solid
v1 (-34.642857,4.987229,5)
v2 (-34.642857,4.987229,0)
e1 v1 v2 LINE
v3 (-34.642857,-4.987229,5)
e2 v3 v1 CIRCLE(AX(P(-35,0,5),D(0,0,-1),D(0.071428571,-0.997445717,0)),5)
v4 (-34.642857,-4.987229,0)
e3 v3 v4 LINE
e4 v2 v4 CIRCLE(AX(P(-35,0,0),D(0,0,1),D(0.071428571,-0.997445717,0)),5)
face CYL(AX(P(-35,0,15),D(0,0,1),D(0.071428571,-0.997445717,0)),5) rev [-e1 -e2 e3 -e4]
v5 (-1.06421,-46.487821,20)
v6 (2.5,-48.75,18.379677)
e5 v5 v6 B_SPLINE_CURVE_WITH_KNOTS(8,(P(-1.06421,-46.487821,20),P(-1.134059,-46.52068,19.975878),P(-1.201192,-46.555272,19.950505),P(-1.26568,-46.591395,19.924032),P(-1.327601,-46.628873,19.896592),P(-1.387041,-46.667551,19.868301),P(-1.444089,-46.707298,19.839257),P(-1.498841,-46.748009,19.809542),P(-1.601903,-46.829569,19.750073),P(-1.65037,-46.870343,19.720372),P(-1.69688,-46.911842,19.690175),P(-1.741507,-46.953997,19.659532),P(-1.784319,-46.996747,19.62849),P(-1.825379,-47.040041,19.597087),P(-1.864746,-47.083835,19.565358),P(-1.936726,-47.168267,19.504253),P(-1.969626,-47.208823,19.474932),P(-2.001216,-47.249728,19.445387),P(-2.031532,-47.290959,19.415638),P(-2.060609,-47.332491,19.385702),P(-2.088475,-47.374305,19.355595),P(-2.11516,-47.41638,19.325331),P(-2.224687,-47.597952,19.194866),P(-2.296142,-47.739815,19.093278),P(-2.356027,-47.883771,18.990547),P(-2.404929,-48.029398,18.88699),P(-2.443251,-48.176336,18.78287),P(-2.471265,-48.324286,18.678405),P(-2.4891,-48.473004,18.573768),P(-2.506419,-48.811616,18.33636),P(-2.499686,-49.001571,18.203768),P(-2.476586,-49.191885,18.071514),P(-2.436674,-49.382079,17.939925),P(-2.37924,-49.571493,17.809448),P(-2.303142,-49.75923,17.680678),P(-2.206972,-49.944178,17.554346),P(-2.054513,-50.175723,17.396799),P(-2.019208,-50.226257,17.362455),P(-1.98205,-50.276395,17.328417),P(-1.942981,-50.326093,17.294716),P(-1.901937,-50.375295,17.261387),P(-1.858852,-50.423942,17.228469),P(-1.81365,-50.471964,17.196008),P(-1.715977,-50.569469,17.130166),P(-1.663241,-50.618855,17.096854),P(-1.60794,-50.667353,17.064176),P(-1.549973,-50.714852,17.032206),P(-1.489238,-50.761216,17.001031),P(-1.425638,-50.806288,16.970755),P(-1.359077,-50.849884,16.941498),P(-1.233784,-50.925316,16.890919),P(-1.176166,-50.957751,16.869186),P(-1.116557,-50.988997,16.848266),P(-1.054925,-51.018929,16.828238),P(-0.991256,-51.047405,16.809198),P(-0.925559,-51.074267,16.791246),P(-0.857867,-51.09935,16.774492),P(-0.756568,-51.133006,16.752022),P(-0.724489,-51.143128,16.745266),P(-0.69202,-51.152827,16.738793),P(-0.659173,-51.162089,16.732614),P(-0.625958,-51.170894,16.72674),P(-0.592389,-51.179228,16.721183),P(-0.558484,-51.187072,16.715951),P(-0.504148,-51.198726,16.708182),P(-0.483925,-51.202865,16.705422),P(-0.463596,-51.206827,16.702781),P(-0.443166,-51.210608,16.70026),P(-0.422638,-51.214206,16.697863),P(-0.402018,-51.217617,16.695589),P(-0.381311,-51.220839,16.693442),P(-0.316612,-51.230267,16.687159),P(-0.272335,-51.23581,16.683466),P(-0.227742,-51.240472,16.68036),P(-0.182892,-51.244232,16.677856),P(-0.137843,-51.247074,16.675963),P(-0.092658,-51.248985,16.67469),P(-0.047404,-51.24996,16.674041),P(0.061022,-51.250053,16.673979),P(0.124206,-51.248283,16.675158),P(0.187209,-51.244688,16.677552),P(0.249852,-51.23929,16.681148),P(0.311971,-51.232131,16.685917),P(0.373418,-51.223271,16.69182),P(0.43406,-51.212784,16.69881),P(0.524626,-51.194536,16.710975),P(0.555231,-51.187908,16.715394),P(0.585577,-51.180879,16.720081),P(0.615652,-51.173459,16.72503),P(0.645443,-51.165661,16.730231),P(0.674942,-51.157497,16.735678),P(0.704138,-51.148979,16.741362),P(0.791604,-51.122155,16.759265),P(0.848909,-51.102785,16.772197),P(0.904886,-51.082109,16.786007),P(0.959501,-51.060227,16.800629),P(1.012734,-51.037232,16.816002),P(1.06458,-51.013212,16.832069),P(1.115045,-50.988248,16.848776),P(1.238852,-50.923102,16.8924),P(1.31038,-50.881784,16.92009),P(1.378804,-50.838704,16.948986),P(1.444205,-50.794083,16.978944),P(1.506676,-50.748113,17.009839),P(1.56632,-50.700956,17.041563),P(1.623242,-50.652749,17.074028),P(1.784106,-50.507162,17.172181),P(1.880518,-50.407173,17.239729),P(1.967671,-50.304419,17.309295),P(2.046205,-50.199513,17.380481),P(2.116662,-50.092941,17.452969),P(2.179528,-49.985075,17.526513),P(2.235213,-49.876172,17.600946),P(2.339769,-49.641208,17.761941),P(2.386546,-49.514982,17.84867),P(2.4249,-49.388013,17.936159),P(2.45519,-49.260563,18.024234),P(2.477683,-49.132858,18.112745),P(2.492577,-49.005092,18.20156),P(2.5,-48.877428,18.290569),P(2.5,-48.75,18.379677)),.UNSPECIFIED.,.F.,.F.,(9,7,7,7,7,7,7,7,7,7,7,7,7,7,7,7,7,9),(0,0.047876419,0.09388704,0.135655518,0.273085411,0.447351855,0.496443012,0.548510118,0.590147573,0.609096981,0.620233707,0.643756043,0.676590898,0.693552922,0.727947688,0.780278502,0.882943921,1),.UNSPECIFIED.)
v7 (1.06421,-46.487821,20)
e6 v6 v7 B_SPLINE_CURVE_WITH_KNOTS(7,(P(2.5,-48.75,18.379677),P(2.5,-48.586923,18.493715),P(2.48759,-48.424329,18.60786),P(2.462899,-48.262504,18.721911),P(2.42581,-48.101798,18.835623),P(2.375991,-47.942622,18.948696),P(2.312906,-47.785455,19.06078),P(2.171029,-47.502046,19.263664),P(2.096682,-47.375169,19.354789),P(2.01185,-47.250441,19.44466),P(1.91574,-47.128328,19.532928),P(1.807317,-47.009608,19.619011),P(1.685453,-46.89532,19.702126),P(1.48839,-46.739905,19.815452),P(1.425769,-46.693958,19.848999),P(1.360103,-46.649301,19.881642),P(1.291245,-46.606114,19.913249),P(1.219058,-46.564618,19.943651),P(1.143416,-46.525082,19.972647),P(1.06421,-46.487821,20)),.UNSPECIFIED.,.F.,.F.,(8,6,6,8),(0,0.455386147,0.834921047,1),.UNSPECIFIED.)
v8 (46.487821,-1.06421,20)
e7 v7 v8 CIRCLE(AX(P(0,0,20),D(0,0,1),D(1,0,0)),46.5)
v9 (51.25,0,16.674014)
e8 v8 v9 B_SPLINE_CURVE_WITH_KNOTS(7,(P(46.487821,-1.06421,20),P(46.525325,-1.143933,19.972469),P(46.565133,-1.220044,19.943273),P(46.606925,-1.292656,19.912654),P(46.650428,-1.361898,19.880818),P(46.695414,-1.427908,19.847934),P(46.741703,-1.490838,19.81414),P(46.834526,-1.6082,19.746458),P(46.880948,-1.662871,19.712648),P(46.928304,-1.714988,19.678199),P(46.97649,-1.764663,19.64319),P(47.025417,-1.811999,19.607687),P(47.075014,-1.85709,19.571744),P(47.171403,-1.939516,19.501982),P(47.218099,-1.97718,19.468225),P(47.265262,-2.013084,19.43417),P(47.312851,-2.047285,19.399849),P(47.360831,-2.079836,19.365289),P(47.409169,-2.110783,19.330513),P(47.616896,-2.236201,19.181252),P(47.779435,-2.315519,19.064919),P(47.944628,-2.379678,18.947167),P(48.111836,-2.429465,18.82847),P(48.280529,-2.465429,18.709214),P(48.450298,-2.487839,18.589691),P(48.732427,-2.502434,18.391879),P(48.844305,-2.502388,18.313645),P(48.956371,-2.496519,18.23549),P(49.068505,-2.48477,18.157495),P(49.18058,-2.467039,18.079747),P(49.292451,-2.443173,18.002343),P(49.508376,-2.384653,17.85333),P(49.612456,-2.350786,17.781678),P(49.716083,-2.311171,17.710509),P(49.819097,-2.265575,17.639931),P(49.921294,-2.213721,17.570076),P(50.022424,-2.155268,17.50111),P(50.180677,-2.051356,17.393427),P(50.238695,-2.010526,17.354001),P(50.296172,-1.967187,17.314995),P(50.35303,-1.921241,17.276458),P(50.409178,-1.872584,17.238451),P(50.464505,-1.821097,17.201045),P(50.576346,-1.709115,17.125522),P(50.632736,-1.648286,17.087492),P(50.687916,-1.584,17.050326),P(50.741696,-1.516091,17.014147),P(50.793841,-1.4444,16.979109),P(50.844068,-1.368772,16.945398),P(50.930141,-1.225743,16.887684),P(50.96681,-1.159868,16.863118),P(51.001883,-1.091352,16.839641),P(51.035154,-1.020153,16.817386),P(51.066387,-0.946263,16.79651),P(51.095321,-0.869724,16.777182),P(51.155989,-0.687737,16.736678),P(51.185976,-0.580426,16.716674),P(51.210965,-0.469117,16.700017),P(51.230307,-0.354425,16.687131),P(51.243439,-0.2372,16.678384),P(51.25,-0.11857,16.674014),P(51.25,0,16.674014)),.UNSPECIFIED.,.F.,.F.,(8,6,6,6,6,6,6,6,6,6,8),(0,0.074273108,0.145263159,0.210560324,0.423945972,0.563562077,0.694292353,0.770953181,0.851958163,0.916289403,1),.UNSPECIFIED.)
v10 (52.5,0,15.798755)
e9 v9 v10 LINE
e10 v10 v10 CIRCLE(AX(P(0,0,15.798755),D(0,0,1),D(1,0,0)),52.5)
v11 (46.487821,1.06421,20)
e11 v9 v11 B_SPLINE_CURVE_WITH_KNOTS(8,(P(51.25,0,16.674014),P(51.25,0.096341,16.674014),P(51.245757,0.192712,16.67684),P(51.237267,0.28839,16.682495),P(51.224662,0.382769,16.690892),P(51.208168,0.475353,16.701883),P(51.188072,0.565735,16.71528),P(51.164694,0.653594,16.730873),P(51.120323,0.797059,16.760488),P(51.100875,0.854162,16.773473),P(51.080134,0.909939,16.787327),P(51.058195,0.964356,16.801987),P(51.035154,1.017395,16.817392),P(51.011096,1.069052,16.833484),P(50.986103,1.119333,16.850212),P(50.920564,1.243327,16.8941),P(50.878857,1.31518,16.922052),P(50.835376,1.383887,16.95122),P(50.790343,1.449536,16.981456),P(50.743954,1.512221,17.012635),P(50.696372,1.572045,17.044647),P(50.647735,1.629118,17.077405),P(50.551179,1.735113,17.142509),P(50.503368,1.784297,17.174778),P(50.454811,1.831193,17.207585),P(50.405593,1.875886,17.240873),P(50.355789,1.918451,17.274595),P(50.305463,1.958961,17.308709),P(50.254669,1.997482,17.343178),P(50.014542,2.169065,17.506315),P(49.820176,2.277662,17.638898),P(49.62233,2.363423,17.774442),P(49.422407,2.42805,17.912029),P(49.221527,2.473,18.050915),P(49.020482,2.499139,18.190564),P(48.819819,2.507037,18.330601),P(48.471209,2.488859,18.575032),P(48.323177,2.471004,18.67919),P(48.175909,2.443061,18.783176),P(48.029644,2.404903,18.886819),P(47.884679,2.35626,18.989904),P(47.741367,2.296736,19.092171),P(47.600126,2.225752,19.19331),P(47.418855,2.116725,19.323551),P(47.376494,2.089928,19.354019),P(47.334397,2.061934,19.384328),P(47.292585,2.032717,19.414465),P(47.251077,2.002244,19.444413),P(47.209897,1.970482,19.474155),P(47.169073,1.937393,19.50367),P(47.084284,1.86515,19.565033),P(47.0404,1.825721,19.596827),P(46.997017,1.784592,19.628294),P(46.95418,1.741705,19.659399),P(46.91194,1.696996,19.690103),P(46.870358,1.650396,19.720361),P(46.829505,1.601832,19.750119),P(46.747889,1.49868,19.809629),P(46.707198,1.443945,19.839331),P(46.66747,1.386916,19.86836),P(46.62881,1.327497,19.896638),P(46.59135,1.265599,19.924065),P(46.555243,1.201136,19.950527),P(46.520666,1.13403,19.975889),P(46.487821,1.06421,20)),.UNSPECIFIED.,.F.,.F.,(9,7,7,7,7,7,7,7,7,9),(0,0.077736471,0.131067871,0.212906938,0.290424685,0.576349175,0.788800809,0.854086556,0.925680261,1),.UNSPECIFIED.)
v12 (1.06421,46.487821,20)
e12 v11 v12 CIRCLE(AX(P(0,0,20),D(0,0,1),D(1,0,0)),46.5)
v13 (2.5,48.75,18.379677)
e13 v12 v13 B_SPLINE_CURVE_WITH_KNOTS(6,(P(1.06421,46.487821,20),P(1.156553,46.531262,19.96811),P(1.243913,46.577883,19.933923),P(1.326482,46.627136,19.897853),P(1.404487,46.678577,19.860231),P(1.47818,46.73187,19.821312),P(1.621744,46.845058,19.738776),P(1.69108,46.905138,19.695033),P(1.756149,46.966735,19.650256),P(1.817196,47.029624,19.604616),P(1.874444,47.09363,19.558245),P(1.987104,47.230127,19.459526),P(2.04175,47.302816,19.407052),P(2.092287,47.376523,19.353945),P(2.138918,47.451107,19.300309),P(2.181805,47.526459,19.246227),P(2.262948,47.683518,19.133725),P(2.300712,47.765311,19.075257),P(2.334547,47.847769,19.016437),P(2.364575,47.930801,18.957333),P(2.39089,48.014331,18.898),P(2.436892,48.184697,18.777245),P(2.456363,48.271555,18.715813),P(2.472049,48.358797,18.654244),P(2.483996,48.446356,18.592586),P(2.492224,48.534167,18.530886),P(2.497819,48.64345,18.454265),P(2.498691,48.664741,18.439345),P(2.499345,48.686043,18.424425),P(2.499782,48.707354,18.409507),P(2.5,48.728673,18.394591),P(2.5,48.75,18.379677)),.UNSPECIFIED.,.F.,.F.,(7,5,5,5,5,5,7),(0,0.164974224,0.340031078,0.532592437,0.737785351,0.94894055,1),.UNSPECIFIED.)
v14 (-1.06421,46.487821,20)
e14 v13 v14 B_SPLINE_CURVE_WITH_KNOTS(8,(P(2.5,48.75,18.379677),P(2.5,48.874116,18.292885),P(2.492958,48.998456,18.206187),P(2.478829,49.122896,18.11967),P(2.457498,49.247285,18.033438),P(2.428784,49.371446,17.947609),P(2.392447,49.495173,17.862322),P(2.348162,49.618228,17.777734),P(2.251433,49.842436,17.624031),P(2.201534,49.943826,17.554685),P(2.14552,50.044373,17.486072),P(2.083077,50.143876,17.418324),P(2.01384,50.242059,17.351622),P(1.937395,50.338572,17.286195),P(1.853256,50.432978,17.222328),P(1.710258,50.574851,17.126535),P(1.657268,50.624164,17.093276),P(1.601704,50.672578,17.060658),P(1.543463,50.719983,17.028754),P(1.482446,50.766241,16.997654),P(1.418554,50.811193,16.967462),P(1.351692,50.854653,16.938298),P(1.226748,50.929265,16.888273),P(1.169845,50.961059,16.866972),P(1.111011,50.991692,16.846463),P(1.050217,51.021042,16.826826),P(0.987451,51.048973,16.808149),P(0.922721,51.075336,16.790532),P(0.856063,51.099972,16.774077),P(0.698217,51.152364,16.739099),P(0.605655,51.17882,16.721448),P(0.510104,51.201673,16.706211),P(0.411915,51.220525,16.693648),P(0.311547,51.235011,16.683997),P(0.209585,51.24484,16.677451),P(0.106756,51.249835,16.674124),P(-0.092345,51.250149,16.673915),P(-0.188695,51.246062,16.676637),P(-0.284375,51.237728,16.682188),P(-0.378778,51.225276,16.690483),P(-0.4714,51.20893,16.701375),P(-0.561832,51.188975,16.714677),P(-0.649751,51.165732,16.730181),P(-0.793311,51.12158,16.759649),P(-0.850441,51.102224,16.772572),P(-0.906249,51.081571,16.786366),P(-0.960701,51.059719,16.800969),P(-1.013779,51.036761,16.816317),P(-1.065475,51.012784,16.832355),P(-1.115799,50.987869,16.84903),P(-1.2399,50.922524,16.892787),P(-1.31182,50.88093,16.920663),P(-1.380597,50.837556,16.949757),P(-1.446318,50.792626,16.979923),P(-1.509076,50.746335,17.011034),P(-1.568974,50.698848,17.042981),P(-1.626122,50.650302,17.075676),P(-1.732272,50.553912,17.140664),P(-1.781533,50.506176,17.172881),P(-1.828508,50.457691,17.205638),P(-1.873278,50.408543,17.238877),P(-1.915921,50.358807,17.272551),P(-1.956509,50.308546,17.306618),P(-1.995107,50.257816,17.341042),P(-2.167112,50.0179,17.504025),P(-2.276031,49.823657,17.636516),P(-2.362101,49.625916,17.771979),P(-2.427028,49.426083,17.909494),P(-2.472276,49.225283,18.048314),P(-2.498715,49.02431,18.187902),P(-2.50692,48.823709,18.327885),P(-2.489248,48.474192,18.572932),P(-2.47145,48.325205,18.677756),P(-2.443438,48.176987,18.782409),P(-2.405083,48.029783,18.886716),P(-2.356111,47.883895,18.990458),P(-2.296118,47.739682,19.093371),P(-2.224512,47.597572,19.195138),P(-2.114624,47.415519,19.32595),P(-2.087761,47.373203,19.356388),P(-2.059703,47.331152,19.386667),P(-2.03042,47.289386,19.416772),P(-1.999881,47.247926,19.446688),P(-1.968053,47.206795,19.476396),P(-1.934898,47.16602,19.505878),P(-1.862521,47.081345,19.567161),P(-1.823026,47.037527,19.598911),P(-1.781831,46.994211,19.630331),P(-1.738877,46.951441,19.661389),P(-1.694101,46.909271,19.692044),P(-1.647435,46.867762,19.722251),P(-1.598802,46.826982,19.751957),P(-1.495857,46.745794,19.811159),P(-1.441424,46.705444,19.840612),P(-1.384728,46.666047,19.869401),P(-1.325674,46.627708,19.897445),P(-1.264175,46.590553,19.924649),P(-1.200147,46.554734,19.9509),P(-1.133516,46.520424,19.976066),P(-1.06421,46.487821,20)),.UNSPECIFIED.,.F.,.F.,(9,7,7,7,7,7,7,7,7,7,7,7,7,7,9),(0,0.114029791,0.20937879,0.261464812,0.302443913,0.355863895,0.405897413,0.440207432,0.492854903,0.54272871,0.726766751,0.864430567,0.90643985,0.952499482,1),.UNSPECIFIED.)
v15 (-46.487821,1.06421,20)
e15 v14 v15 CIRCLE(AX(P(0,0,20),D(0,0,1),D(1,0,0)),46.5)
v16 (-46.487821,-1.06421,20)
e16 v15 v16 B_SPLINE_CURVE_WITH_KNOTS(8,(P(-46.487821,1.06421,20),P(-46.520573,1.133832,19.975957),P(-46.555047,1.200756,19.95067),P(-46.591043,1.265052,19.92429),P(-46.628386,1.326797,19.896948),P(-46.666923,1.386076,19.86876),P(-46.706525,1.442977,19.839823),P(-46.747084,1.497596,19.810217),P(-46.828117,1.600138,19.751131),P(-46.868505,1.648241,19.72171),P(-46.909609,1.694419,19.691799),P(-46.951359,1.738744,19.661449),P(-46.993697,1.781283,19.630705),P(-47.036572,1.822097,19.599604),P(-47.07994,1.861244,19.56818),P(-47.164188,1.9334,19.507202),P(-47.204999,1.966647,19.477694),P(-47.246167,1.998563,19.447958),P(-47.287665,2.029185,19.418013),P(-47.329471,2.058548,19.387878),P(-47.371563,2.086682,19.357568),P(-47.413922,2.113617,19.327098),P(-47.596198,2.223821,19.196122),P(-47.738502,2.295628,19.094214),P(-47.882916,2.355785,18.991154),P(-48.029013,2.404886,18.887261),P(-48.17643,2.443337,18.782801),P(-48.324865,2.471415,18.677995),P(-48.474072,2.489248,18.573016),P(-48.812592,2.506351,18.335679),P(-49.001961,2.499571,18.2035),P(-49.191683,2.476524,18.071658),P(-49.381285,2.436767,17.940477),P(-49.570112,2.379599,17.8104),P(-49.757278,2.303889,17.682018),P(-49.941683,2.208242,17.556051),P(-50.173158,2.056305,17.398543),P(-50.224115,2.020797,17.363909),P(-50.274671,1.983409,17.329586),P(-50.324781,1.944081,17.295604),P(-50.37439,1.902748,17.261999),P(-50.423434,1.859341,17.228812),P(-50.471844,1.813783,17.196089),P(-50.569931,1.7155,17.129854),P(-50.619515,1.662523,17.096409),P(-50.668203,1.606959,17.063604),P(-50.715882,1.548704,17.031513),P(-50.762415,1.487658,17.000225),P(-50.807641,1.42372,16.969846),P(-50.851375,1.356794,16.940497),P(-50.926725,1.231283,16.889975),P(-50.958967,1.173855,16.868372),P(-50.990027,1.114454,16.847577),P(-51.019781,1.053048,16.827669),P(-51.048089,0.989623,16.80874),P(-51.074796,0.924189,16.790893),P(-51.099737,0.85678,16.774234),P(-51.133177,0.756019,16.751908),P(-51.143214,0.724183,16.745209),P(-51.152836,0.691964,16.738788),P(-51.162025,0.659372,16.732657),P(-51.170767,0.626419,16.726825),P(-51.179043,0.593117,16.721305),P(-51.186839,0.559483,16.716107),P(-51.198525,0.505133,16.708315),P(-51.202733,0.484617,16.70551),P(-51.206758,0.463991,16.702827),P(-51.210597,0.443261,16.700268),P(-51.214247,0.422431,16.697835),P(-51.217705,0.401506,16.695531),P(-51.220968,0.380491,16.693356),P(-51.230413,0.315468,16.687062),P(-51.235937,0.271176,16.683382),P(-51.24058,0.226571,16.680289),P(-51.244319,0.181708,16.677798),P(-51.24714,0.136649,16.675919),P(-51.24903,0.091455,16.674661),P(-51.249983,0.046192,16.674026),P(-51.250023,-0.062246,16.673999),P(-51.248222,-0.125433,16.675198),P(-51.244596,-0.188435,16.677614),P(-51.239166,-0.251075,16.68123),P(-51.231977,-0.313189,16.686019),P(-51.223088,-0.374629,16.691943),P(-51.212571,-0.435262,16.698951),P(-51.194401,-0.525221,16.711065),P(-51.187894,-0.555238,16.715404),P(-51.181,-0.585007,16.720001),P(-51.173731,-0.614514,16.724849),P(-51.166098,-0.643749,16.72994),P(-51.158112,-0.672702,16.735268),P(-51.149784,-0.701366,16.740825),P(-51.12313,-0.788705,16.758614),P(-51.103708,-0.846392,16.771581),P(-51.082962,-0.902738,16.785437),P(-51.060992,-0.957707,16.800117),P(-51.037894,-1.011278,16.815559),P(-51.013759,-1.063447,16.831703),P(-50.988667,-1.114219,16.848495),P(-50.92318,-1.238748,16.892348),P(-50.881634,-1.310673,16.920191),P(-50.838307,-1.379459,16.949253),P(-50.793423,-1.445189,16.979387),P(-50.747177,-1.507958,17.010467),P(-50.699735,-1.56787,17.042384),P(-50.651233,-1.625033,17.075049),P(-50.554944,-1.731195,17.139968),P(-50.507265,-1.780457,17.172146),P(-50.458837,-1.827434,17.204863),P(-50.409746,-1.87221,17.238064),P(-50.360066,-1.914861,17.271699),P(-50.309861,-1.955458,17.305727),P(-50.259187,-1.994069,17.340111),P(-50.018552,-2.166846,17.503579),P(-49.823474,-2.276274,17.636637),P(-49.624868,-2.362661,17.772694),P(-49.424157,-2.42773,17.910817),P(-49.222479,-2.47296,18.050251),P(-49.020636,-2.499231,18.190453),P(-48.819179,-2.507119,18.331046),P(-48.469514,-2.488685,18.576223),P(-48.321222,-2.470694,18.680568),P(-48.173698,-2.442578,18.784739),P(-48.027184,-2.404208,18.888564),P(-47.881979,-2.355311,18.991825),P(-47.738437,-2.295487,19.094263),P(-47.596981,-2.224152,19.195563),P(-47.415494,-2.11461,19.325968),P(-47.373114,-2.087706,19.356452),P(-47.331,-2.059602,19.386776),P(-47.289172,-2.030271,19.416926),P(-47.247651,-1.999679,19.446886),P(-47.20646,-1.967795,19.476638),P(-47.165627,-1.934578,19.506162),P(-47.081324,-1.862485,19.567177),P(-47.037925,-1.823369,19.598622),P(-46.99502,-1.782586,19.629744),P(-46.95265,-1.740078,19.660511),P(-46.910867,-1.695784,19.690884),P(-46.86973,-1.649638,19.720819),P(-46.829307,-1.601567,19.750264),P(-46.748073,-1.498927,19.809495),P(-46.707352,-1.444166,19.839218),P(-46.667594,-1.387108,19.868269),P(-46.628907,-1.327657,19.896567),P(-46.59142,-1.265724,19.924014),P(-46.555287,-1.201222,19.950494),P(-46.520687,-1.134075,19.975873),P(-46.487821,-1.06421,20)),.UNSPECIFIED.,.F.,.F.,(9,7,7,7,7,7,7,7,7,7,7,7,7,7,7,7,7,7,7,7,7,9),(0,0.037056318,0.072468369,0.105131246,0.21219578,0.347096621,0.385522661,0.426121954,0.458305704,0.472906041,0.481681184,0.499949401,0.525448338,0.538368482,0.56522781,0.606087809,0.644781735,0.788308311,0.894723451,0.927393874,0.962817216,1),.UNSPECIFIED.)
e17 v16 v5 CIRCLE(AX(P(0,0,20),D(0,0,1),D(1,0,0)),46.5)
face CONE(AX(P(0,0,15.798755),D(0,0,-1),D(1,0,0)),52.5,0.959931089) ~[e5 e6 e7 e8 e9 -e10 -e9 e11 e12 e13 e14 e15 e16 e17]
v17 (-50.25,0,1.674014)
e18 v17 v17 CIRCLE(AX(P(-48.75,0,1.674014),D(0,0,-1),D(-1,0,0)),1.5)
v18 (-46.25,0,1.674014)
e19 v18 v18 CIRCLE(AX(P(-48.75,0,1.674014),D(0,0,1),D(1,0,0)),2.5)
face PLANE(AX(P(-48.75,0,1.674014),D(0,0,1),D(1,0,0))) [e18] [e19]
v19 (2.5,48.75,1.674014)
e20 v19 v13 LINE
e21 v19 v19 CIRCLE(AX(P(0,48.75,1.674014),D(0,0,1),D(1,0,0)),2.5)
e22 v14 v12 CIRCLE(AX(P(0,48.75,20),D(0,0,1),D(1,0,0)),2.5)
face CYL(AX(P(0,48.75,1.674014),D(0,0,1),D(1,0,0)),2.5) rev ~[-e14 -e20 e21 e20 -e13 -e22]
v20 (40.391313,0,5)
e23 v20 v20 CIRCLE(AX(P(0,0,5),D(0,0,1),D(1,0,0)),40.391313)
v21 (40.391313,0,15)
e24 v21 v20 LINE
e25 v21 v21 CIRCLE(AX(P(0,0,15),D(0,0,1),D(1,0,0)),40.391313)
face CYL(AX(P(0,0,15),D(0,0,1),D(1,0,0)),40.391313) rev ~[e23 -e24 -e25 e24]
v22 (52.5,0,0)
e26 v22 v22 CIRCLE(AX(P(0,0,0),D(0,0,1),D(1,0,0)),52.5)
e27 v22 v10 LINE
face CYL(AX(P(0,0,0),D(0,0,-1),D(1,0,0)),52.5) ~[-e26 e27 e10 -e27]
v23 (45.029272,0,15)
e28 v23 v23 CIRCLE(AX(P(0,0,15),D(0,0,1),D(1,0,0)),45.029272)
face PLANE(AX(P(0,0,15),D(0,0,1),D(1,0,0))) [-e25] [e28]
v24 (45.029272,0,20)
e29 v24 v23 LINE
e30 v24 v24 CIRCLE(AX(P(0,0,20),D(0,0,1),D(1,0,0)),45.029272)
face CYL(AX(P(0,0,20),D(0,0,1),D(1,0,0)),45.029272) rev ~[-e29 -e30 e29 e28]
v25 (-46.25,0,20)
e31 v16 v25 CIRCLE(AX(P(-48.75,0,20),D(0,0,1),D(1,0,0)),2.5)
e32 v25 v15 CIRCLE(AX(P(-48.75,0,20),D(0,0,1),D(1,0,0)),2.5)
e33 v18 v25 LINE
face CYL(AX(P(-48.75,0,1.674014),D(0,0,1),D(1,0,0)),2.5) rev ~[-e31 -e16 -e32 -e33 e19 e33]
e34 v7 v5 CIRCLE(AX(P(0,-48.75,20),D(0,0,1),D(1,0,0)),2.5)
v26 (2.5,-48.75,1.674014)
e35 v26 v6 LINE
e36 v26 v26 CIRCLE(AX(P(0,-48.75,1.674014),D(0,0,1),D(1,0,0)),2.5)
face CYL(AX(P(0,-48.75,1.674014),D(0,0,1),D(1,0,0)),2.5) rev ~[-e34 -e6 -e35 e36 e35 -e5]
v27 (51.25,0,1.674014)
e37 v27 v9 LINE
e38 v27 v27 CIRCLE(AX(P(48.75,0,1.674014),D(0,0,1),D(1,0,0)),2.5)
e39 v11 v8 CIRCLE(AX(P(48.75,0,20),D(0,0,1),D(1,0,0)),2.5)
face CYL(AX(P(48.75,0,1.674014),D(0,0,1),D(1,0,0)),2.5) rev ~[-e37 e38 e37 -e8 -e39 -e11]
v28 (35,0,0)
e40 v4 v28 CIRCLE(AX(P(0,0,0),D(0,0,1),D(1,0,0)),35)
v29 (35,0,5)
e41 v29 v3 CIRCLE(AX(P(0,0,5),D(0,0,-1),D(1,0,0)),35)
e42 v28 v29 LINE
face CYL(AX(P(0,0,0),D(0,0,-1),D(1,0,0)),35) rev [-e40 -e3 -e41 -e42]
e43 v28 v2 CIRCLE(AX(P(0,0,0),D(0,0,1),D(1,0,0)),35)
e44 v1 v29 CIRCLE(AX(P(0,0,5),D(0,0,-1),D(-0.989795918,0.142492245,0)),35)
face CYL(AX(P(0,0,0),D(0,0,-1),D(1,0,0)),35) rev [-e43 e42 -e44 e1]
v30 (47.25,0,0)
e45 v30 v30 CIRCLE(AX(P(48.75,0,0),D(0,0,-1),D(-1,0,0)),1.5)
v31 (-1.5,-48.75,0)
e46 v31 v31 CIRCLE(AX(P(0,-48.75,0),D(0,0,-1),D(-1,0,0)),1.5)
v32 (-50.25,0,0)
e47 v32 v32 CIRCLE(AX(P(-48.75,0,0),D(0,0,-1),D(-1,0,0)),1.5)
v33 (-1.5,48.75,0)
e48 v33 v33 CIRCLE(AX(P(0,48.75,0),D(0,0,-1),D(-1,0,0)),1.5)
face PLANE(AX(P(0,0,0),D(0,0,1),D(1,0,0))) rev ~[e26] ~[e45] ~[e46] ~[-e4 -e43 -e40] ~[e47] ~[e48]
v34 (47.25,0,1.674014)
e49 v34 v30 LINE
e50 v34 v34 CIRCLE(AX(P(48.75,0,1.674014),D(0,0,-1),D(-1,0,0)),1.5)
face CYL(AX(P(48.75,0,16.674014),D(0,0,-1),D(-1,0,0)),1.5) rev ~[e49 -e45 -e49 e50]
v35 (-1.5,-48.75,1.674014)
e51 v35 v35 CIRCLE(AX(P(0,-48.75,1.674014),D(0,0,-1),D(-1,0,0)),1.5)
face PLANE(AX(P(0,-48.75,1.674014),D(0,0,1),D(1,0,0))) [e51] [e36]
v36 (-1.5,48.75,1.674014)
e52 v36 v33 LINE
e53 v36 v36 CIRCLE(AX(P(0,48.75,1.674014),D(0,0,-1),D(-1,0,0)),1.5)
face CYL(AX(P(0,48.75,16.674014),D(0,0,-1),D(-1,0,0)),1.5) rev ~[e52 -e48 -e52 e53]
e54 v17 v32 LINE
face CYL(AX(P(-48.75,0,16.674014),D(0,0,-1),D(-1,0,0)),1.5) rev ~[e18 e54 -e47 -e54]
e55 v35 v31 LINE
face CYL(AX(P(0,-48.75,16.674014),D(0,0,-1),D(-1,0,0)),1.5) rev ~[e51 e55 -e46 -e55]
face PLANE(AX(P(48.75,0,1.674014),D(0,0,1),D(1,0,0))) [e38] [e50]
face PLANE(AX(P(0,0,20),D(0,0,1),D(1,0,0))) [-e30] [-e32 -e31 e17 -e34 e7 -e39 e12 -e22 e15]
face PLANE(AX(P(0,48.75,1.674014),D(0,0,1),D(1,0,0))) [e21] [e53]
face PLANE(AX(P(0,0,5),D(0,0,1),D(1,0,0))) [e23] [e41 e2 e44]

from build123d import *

# Parameters (mm, degrees)
F0_R           = 52.5
F0_R_2         = 35
F1_DEPTH       = 20
F2_DEPTH       = 20
F3_R           = 45.0292723638
F3_R_2         = 35
F4_DEPTH       = 5
F5_SIZE2       = 4.2012452293
F5_SIZE        = 6
F7_D           = 3
F7_START       = 3.3259859
F7_CBORE_D     = 5
F7_CBORE_DEPTH = 15
F8_R           = 40.3913127828
F9_DEPTH       = 10
F10_DEPTH      = 50


with BuildPart() as f1:
    # F0 (on Top) → F1 (new body)
    with BuildSketch(Plane.XY):
        Circle(F0_R)
        Circle(F0_R_2, mode=Mode.SUBTRACT)
        Circle(F0_R_2)
    extrude(amount=F1_DEPTH)

    # F0 (on Top) → F2 (cut)
    with BuildSketch(Plane.XY):
        Circle(F0_R_2)
    extrude(amount=F2_DEPTH, mode=Mode.SUBTRACT)

    # F3 (on face) → F4 (cut)
    with BuildSketch(Plane.XY.offset(20)):
        Circle(F3_R)
        Circle(F3_R_2, mode=Mode.SUBTRACT)
    extrude(amount=-F4_DEPTH, mode=Mode.SUBTRACT)

    # F5
    f5_edges = [f1.edges().sort_by_distance(p)[0] for p in [
        (-52.5, 0, 20),
    ]]
    f5_side = f1.faces().sort_by_distance((-51.015076, 0, 20))[0]
    chamfer(f5_edges, length=F5_SIZE, length2=F5_SIZE2, reference=f5_side)

    # F7 (through all)
    # its depths count from where the whole tool has entered the part; down to there all is cleared
    with Locations(Plane.XY.offset(20).offset(-F7_START)):
        with Locations((-48.75, 0), (0, -48.75), (48.75, 0), (0, 48.75)):
            CounterBoreHole(F7_D / 2, F7_CBORE_D / 2, F7_CBORE_DEPTH)

    # F8 (on face) → F9 (cut)
    with BuildSketch(Plane.XY.offset(15)):
        Circle(F8_R)
        with BuildLine():
            ThreePointArc((-34.6428571429, -4.9872285871), (-40, 0), (-34.6428571429, 4.9872285871))
            ThreePointArc((-34.6428571429, 4.9872285871), (2.5, 34.9106001094), (35, 0))
            ThreePointArc((35, 0), (2.5, -34.9106001094), (-34.6428571429, -4.9872285871))
        make_face(mode=Mode.SUBTRACT)
    extrude(amount=-F9_DEPTH, mode=Mode.SUBTRACT)

    # F10 (cut): a face of the model
    f10_faces = [f1.faces().sort_by_distance(p)[0] for p in [
        (-37.0564415312, 0, 15),
    ]]
    extrude(f10_faces, amount=-F10_DEPTH, mode=Mode.SUBTRACT)


solid = f1.part
